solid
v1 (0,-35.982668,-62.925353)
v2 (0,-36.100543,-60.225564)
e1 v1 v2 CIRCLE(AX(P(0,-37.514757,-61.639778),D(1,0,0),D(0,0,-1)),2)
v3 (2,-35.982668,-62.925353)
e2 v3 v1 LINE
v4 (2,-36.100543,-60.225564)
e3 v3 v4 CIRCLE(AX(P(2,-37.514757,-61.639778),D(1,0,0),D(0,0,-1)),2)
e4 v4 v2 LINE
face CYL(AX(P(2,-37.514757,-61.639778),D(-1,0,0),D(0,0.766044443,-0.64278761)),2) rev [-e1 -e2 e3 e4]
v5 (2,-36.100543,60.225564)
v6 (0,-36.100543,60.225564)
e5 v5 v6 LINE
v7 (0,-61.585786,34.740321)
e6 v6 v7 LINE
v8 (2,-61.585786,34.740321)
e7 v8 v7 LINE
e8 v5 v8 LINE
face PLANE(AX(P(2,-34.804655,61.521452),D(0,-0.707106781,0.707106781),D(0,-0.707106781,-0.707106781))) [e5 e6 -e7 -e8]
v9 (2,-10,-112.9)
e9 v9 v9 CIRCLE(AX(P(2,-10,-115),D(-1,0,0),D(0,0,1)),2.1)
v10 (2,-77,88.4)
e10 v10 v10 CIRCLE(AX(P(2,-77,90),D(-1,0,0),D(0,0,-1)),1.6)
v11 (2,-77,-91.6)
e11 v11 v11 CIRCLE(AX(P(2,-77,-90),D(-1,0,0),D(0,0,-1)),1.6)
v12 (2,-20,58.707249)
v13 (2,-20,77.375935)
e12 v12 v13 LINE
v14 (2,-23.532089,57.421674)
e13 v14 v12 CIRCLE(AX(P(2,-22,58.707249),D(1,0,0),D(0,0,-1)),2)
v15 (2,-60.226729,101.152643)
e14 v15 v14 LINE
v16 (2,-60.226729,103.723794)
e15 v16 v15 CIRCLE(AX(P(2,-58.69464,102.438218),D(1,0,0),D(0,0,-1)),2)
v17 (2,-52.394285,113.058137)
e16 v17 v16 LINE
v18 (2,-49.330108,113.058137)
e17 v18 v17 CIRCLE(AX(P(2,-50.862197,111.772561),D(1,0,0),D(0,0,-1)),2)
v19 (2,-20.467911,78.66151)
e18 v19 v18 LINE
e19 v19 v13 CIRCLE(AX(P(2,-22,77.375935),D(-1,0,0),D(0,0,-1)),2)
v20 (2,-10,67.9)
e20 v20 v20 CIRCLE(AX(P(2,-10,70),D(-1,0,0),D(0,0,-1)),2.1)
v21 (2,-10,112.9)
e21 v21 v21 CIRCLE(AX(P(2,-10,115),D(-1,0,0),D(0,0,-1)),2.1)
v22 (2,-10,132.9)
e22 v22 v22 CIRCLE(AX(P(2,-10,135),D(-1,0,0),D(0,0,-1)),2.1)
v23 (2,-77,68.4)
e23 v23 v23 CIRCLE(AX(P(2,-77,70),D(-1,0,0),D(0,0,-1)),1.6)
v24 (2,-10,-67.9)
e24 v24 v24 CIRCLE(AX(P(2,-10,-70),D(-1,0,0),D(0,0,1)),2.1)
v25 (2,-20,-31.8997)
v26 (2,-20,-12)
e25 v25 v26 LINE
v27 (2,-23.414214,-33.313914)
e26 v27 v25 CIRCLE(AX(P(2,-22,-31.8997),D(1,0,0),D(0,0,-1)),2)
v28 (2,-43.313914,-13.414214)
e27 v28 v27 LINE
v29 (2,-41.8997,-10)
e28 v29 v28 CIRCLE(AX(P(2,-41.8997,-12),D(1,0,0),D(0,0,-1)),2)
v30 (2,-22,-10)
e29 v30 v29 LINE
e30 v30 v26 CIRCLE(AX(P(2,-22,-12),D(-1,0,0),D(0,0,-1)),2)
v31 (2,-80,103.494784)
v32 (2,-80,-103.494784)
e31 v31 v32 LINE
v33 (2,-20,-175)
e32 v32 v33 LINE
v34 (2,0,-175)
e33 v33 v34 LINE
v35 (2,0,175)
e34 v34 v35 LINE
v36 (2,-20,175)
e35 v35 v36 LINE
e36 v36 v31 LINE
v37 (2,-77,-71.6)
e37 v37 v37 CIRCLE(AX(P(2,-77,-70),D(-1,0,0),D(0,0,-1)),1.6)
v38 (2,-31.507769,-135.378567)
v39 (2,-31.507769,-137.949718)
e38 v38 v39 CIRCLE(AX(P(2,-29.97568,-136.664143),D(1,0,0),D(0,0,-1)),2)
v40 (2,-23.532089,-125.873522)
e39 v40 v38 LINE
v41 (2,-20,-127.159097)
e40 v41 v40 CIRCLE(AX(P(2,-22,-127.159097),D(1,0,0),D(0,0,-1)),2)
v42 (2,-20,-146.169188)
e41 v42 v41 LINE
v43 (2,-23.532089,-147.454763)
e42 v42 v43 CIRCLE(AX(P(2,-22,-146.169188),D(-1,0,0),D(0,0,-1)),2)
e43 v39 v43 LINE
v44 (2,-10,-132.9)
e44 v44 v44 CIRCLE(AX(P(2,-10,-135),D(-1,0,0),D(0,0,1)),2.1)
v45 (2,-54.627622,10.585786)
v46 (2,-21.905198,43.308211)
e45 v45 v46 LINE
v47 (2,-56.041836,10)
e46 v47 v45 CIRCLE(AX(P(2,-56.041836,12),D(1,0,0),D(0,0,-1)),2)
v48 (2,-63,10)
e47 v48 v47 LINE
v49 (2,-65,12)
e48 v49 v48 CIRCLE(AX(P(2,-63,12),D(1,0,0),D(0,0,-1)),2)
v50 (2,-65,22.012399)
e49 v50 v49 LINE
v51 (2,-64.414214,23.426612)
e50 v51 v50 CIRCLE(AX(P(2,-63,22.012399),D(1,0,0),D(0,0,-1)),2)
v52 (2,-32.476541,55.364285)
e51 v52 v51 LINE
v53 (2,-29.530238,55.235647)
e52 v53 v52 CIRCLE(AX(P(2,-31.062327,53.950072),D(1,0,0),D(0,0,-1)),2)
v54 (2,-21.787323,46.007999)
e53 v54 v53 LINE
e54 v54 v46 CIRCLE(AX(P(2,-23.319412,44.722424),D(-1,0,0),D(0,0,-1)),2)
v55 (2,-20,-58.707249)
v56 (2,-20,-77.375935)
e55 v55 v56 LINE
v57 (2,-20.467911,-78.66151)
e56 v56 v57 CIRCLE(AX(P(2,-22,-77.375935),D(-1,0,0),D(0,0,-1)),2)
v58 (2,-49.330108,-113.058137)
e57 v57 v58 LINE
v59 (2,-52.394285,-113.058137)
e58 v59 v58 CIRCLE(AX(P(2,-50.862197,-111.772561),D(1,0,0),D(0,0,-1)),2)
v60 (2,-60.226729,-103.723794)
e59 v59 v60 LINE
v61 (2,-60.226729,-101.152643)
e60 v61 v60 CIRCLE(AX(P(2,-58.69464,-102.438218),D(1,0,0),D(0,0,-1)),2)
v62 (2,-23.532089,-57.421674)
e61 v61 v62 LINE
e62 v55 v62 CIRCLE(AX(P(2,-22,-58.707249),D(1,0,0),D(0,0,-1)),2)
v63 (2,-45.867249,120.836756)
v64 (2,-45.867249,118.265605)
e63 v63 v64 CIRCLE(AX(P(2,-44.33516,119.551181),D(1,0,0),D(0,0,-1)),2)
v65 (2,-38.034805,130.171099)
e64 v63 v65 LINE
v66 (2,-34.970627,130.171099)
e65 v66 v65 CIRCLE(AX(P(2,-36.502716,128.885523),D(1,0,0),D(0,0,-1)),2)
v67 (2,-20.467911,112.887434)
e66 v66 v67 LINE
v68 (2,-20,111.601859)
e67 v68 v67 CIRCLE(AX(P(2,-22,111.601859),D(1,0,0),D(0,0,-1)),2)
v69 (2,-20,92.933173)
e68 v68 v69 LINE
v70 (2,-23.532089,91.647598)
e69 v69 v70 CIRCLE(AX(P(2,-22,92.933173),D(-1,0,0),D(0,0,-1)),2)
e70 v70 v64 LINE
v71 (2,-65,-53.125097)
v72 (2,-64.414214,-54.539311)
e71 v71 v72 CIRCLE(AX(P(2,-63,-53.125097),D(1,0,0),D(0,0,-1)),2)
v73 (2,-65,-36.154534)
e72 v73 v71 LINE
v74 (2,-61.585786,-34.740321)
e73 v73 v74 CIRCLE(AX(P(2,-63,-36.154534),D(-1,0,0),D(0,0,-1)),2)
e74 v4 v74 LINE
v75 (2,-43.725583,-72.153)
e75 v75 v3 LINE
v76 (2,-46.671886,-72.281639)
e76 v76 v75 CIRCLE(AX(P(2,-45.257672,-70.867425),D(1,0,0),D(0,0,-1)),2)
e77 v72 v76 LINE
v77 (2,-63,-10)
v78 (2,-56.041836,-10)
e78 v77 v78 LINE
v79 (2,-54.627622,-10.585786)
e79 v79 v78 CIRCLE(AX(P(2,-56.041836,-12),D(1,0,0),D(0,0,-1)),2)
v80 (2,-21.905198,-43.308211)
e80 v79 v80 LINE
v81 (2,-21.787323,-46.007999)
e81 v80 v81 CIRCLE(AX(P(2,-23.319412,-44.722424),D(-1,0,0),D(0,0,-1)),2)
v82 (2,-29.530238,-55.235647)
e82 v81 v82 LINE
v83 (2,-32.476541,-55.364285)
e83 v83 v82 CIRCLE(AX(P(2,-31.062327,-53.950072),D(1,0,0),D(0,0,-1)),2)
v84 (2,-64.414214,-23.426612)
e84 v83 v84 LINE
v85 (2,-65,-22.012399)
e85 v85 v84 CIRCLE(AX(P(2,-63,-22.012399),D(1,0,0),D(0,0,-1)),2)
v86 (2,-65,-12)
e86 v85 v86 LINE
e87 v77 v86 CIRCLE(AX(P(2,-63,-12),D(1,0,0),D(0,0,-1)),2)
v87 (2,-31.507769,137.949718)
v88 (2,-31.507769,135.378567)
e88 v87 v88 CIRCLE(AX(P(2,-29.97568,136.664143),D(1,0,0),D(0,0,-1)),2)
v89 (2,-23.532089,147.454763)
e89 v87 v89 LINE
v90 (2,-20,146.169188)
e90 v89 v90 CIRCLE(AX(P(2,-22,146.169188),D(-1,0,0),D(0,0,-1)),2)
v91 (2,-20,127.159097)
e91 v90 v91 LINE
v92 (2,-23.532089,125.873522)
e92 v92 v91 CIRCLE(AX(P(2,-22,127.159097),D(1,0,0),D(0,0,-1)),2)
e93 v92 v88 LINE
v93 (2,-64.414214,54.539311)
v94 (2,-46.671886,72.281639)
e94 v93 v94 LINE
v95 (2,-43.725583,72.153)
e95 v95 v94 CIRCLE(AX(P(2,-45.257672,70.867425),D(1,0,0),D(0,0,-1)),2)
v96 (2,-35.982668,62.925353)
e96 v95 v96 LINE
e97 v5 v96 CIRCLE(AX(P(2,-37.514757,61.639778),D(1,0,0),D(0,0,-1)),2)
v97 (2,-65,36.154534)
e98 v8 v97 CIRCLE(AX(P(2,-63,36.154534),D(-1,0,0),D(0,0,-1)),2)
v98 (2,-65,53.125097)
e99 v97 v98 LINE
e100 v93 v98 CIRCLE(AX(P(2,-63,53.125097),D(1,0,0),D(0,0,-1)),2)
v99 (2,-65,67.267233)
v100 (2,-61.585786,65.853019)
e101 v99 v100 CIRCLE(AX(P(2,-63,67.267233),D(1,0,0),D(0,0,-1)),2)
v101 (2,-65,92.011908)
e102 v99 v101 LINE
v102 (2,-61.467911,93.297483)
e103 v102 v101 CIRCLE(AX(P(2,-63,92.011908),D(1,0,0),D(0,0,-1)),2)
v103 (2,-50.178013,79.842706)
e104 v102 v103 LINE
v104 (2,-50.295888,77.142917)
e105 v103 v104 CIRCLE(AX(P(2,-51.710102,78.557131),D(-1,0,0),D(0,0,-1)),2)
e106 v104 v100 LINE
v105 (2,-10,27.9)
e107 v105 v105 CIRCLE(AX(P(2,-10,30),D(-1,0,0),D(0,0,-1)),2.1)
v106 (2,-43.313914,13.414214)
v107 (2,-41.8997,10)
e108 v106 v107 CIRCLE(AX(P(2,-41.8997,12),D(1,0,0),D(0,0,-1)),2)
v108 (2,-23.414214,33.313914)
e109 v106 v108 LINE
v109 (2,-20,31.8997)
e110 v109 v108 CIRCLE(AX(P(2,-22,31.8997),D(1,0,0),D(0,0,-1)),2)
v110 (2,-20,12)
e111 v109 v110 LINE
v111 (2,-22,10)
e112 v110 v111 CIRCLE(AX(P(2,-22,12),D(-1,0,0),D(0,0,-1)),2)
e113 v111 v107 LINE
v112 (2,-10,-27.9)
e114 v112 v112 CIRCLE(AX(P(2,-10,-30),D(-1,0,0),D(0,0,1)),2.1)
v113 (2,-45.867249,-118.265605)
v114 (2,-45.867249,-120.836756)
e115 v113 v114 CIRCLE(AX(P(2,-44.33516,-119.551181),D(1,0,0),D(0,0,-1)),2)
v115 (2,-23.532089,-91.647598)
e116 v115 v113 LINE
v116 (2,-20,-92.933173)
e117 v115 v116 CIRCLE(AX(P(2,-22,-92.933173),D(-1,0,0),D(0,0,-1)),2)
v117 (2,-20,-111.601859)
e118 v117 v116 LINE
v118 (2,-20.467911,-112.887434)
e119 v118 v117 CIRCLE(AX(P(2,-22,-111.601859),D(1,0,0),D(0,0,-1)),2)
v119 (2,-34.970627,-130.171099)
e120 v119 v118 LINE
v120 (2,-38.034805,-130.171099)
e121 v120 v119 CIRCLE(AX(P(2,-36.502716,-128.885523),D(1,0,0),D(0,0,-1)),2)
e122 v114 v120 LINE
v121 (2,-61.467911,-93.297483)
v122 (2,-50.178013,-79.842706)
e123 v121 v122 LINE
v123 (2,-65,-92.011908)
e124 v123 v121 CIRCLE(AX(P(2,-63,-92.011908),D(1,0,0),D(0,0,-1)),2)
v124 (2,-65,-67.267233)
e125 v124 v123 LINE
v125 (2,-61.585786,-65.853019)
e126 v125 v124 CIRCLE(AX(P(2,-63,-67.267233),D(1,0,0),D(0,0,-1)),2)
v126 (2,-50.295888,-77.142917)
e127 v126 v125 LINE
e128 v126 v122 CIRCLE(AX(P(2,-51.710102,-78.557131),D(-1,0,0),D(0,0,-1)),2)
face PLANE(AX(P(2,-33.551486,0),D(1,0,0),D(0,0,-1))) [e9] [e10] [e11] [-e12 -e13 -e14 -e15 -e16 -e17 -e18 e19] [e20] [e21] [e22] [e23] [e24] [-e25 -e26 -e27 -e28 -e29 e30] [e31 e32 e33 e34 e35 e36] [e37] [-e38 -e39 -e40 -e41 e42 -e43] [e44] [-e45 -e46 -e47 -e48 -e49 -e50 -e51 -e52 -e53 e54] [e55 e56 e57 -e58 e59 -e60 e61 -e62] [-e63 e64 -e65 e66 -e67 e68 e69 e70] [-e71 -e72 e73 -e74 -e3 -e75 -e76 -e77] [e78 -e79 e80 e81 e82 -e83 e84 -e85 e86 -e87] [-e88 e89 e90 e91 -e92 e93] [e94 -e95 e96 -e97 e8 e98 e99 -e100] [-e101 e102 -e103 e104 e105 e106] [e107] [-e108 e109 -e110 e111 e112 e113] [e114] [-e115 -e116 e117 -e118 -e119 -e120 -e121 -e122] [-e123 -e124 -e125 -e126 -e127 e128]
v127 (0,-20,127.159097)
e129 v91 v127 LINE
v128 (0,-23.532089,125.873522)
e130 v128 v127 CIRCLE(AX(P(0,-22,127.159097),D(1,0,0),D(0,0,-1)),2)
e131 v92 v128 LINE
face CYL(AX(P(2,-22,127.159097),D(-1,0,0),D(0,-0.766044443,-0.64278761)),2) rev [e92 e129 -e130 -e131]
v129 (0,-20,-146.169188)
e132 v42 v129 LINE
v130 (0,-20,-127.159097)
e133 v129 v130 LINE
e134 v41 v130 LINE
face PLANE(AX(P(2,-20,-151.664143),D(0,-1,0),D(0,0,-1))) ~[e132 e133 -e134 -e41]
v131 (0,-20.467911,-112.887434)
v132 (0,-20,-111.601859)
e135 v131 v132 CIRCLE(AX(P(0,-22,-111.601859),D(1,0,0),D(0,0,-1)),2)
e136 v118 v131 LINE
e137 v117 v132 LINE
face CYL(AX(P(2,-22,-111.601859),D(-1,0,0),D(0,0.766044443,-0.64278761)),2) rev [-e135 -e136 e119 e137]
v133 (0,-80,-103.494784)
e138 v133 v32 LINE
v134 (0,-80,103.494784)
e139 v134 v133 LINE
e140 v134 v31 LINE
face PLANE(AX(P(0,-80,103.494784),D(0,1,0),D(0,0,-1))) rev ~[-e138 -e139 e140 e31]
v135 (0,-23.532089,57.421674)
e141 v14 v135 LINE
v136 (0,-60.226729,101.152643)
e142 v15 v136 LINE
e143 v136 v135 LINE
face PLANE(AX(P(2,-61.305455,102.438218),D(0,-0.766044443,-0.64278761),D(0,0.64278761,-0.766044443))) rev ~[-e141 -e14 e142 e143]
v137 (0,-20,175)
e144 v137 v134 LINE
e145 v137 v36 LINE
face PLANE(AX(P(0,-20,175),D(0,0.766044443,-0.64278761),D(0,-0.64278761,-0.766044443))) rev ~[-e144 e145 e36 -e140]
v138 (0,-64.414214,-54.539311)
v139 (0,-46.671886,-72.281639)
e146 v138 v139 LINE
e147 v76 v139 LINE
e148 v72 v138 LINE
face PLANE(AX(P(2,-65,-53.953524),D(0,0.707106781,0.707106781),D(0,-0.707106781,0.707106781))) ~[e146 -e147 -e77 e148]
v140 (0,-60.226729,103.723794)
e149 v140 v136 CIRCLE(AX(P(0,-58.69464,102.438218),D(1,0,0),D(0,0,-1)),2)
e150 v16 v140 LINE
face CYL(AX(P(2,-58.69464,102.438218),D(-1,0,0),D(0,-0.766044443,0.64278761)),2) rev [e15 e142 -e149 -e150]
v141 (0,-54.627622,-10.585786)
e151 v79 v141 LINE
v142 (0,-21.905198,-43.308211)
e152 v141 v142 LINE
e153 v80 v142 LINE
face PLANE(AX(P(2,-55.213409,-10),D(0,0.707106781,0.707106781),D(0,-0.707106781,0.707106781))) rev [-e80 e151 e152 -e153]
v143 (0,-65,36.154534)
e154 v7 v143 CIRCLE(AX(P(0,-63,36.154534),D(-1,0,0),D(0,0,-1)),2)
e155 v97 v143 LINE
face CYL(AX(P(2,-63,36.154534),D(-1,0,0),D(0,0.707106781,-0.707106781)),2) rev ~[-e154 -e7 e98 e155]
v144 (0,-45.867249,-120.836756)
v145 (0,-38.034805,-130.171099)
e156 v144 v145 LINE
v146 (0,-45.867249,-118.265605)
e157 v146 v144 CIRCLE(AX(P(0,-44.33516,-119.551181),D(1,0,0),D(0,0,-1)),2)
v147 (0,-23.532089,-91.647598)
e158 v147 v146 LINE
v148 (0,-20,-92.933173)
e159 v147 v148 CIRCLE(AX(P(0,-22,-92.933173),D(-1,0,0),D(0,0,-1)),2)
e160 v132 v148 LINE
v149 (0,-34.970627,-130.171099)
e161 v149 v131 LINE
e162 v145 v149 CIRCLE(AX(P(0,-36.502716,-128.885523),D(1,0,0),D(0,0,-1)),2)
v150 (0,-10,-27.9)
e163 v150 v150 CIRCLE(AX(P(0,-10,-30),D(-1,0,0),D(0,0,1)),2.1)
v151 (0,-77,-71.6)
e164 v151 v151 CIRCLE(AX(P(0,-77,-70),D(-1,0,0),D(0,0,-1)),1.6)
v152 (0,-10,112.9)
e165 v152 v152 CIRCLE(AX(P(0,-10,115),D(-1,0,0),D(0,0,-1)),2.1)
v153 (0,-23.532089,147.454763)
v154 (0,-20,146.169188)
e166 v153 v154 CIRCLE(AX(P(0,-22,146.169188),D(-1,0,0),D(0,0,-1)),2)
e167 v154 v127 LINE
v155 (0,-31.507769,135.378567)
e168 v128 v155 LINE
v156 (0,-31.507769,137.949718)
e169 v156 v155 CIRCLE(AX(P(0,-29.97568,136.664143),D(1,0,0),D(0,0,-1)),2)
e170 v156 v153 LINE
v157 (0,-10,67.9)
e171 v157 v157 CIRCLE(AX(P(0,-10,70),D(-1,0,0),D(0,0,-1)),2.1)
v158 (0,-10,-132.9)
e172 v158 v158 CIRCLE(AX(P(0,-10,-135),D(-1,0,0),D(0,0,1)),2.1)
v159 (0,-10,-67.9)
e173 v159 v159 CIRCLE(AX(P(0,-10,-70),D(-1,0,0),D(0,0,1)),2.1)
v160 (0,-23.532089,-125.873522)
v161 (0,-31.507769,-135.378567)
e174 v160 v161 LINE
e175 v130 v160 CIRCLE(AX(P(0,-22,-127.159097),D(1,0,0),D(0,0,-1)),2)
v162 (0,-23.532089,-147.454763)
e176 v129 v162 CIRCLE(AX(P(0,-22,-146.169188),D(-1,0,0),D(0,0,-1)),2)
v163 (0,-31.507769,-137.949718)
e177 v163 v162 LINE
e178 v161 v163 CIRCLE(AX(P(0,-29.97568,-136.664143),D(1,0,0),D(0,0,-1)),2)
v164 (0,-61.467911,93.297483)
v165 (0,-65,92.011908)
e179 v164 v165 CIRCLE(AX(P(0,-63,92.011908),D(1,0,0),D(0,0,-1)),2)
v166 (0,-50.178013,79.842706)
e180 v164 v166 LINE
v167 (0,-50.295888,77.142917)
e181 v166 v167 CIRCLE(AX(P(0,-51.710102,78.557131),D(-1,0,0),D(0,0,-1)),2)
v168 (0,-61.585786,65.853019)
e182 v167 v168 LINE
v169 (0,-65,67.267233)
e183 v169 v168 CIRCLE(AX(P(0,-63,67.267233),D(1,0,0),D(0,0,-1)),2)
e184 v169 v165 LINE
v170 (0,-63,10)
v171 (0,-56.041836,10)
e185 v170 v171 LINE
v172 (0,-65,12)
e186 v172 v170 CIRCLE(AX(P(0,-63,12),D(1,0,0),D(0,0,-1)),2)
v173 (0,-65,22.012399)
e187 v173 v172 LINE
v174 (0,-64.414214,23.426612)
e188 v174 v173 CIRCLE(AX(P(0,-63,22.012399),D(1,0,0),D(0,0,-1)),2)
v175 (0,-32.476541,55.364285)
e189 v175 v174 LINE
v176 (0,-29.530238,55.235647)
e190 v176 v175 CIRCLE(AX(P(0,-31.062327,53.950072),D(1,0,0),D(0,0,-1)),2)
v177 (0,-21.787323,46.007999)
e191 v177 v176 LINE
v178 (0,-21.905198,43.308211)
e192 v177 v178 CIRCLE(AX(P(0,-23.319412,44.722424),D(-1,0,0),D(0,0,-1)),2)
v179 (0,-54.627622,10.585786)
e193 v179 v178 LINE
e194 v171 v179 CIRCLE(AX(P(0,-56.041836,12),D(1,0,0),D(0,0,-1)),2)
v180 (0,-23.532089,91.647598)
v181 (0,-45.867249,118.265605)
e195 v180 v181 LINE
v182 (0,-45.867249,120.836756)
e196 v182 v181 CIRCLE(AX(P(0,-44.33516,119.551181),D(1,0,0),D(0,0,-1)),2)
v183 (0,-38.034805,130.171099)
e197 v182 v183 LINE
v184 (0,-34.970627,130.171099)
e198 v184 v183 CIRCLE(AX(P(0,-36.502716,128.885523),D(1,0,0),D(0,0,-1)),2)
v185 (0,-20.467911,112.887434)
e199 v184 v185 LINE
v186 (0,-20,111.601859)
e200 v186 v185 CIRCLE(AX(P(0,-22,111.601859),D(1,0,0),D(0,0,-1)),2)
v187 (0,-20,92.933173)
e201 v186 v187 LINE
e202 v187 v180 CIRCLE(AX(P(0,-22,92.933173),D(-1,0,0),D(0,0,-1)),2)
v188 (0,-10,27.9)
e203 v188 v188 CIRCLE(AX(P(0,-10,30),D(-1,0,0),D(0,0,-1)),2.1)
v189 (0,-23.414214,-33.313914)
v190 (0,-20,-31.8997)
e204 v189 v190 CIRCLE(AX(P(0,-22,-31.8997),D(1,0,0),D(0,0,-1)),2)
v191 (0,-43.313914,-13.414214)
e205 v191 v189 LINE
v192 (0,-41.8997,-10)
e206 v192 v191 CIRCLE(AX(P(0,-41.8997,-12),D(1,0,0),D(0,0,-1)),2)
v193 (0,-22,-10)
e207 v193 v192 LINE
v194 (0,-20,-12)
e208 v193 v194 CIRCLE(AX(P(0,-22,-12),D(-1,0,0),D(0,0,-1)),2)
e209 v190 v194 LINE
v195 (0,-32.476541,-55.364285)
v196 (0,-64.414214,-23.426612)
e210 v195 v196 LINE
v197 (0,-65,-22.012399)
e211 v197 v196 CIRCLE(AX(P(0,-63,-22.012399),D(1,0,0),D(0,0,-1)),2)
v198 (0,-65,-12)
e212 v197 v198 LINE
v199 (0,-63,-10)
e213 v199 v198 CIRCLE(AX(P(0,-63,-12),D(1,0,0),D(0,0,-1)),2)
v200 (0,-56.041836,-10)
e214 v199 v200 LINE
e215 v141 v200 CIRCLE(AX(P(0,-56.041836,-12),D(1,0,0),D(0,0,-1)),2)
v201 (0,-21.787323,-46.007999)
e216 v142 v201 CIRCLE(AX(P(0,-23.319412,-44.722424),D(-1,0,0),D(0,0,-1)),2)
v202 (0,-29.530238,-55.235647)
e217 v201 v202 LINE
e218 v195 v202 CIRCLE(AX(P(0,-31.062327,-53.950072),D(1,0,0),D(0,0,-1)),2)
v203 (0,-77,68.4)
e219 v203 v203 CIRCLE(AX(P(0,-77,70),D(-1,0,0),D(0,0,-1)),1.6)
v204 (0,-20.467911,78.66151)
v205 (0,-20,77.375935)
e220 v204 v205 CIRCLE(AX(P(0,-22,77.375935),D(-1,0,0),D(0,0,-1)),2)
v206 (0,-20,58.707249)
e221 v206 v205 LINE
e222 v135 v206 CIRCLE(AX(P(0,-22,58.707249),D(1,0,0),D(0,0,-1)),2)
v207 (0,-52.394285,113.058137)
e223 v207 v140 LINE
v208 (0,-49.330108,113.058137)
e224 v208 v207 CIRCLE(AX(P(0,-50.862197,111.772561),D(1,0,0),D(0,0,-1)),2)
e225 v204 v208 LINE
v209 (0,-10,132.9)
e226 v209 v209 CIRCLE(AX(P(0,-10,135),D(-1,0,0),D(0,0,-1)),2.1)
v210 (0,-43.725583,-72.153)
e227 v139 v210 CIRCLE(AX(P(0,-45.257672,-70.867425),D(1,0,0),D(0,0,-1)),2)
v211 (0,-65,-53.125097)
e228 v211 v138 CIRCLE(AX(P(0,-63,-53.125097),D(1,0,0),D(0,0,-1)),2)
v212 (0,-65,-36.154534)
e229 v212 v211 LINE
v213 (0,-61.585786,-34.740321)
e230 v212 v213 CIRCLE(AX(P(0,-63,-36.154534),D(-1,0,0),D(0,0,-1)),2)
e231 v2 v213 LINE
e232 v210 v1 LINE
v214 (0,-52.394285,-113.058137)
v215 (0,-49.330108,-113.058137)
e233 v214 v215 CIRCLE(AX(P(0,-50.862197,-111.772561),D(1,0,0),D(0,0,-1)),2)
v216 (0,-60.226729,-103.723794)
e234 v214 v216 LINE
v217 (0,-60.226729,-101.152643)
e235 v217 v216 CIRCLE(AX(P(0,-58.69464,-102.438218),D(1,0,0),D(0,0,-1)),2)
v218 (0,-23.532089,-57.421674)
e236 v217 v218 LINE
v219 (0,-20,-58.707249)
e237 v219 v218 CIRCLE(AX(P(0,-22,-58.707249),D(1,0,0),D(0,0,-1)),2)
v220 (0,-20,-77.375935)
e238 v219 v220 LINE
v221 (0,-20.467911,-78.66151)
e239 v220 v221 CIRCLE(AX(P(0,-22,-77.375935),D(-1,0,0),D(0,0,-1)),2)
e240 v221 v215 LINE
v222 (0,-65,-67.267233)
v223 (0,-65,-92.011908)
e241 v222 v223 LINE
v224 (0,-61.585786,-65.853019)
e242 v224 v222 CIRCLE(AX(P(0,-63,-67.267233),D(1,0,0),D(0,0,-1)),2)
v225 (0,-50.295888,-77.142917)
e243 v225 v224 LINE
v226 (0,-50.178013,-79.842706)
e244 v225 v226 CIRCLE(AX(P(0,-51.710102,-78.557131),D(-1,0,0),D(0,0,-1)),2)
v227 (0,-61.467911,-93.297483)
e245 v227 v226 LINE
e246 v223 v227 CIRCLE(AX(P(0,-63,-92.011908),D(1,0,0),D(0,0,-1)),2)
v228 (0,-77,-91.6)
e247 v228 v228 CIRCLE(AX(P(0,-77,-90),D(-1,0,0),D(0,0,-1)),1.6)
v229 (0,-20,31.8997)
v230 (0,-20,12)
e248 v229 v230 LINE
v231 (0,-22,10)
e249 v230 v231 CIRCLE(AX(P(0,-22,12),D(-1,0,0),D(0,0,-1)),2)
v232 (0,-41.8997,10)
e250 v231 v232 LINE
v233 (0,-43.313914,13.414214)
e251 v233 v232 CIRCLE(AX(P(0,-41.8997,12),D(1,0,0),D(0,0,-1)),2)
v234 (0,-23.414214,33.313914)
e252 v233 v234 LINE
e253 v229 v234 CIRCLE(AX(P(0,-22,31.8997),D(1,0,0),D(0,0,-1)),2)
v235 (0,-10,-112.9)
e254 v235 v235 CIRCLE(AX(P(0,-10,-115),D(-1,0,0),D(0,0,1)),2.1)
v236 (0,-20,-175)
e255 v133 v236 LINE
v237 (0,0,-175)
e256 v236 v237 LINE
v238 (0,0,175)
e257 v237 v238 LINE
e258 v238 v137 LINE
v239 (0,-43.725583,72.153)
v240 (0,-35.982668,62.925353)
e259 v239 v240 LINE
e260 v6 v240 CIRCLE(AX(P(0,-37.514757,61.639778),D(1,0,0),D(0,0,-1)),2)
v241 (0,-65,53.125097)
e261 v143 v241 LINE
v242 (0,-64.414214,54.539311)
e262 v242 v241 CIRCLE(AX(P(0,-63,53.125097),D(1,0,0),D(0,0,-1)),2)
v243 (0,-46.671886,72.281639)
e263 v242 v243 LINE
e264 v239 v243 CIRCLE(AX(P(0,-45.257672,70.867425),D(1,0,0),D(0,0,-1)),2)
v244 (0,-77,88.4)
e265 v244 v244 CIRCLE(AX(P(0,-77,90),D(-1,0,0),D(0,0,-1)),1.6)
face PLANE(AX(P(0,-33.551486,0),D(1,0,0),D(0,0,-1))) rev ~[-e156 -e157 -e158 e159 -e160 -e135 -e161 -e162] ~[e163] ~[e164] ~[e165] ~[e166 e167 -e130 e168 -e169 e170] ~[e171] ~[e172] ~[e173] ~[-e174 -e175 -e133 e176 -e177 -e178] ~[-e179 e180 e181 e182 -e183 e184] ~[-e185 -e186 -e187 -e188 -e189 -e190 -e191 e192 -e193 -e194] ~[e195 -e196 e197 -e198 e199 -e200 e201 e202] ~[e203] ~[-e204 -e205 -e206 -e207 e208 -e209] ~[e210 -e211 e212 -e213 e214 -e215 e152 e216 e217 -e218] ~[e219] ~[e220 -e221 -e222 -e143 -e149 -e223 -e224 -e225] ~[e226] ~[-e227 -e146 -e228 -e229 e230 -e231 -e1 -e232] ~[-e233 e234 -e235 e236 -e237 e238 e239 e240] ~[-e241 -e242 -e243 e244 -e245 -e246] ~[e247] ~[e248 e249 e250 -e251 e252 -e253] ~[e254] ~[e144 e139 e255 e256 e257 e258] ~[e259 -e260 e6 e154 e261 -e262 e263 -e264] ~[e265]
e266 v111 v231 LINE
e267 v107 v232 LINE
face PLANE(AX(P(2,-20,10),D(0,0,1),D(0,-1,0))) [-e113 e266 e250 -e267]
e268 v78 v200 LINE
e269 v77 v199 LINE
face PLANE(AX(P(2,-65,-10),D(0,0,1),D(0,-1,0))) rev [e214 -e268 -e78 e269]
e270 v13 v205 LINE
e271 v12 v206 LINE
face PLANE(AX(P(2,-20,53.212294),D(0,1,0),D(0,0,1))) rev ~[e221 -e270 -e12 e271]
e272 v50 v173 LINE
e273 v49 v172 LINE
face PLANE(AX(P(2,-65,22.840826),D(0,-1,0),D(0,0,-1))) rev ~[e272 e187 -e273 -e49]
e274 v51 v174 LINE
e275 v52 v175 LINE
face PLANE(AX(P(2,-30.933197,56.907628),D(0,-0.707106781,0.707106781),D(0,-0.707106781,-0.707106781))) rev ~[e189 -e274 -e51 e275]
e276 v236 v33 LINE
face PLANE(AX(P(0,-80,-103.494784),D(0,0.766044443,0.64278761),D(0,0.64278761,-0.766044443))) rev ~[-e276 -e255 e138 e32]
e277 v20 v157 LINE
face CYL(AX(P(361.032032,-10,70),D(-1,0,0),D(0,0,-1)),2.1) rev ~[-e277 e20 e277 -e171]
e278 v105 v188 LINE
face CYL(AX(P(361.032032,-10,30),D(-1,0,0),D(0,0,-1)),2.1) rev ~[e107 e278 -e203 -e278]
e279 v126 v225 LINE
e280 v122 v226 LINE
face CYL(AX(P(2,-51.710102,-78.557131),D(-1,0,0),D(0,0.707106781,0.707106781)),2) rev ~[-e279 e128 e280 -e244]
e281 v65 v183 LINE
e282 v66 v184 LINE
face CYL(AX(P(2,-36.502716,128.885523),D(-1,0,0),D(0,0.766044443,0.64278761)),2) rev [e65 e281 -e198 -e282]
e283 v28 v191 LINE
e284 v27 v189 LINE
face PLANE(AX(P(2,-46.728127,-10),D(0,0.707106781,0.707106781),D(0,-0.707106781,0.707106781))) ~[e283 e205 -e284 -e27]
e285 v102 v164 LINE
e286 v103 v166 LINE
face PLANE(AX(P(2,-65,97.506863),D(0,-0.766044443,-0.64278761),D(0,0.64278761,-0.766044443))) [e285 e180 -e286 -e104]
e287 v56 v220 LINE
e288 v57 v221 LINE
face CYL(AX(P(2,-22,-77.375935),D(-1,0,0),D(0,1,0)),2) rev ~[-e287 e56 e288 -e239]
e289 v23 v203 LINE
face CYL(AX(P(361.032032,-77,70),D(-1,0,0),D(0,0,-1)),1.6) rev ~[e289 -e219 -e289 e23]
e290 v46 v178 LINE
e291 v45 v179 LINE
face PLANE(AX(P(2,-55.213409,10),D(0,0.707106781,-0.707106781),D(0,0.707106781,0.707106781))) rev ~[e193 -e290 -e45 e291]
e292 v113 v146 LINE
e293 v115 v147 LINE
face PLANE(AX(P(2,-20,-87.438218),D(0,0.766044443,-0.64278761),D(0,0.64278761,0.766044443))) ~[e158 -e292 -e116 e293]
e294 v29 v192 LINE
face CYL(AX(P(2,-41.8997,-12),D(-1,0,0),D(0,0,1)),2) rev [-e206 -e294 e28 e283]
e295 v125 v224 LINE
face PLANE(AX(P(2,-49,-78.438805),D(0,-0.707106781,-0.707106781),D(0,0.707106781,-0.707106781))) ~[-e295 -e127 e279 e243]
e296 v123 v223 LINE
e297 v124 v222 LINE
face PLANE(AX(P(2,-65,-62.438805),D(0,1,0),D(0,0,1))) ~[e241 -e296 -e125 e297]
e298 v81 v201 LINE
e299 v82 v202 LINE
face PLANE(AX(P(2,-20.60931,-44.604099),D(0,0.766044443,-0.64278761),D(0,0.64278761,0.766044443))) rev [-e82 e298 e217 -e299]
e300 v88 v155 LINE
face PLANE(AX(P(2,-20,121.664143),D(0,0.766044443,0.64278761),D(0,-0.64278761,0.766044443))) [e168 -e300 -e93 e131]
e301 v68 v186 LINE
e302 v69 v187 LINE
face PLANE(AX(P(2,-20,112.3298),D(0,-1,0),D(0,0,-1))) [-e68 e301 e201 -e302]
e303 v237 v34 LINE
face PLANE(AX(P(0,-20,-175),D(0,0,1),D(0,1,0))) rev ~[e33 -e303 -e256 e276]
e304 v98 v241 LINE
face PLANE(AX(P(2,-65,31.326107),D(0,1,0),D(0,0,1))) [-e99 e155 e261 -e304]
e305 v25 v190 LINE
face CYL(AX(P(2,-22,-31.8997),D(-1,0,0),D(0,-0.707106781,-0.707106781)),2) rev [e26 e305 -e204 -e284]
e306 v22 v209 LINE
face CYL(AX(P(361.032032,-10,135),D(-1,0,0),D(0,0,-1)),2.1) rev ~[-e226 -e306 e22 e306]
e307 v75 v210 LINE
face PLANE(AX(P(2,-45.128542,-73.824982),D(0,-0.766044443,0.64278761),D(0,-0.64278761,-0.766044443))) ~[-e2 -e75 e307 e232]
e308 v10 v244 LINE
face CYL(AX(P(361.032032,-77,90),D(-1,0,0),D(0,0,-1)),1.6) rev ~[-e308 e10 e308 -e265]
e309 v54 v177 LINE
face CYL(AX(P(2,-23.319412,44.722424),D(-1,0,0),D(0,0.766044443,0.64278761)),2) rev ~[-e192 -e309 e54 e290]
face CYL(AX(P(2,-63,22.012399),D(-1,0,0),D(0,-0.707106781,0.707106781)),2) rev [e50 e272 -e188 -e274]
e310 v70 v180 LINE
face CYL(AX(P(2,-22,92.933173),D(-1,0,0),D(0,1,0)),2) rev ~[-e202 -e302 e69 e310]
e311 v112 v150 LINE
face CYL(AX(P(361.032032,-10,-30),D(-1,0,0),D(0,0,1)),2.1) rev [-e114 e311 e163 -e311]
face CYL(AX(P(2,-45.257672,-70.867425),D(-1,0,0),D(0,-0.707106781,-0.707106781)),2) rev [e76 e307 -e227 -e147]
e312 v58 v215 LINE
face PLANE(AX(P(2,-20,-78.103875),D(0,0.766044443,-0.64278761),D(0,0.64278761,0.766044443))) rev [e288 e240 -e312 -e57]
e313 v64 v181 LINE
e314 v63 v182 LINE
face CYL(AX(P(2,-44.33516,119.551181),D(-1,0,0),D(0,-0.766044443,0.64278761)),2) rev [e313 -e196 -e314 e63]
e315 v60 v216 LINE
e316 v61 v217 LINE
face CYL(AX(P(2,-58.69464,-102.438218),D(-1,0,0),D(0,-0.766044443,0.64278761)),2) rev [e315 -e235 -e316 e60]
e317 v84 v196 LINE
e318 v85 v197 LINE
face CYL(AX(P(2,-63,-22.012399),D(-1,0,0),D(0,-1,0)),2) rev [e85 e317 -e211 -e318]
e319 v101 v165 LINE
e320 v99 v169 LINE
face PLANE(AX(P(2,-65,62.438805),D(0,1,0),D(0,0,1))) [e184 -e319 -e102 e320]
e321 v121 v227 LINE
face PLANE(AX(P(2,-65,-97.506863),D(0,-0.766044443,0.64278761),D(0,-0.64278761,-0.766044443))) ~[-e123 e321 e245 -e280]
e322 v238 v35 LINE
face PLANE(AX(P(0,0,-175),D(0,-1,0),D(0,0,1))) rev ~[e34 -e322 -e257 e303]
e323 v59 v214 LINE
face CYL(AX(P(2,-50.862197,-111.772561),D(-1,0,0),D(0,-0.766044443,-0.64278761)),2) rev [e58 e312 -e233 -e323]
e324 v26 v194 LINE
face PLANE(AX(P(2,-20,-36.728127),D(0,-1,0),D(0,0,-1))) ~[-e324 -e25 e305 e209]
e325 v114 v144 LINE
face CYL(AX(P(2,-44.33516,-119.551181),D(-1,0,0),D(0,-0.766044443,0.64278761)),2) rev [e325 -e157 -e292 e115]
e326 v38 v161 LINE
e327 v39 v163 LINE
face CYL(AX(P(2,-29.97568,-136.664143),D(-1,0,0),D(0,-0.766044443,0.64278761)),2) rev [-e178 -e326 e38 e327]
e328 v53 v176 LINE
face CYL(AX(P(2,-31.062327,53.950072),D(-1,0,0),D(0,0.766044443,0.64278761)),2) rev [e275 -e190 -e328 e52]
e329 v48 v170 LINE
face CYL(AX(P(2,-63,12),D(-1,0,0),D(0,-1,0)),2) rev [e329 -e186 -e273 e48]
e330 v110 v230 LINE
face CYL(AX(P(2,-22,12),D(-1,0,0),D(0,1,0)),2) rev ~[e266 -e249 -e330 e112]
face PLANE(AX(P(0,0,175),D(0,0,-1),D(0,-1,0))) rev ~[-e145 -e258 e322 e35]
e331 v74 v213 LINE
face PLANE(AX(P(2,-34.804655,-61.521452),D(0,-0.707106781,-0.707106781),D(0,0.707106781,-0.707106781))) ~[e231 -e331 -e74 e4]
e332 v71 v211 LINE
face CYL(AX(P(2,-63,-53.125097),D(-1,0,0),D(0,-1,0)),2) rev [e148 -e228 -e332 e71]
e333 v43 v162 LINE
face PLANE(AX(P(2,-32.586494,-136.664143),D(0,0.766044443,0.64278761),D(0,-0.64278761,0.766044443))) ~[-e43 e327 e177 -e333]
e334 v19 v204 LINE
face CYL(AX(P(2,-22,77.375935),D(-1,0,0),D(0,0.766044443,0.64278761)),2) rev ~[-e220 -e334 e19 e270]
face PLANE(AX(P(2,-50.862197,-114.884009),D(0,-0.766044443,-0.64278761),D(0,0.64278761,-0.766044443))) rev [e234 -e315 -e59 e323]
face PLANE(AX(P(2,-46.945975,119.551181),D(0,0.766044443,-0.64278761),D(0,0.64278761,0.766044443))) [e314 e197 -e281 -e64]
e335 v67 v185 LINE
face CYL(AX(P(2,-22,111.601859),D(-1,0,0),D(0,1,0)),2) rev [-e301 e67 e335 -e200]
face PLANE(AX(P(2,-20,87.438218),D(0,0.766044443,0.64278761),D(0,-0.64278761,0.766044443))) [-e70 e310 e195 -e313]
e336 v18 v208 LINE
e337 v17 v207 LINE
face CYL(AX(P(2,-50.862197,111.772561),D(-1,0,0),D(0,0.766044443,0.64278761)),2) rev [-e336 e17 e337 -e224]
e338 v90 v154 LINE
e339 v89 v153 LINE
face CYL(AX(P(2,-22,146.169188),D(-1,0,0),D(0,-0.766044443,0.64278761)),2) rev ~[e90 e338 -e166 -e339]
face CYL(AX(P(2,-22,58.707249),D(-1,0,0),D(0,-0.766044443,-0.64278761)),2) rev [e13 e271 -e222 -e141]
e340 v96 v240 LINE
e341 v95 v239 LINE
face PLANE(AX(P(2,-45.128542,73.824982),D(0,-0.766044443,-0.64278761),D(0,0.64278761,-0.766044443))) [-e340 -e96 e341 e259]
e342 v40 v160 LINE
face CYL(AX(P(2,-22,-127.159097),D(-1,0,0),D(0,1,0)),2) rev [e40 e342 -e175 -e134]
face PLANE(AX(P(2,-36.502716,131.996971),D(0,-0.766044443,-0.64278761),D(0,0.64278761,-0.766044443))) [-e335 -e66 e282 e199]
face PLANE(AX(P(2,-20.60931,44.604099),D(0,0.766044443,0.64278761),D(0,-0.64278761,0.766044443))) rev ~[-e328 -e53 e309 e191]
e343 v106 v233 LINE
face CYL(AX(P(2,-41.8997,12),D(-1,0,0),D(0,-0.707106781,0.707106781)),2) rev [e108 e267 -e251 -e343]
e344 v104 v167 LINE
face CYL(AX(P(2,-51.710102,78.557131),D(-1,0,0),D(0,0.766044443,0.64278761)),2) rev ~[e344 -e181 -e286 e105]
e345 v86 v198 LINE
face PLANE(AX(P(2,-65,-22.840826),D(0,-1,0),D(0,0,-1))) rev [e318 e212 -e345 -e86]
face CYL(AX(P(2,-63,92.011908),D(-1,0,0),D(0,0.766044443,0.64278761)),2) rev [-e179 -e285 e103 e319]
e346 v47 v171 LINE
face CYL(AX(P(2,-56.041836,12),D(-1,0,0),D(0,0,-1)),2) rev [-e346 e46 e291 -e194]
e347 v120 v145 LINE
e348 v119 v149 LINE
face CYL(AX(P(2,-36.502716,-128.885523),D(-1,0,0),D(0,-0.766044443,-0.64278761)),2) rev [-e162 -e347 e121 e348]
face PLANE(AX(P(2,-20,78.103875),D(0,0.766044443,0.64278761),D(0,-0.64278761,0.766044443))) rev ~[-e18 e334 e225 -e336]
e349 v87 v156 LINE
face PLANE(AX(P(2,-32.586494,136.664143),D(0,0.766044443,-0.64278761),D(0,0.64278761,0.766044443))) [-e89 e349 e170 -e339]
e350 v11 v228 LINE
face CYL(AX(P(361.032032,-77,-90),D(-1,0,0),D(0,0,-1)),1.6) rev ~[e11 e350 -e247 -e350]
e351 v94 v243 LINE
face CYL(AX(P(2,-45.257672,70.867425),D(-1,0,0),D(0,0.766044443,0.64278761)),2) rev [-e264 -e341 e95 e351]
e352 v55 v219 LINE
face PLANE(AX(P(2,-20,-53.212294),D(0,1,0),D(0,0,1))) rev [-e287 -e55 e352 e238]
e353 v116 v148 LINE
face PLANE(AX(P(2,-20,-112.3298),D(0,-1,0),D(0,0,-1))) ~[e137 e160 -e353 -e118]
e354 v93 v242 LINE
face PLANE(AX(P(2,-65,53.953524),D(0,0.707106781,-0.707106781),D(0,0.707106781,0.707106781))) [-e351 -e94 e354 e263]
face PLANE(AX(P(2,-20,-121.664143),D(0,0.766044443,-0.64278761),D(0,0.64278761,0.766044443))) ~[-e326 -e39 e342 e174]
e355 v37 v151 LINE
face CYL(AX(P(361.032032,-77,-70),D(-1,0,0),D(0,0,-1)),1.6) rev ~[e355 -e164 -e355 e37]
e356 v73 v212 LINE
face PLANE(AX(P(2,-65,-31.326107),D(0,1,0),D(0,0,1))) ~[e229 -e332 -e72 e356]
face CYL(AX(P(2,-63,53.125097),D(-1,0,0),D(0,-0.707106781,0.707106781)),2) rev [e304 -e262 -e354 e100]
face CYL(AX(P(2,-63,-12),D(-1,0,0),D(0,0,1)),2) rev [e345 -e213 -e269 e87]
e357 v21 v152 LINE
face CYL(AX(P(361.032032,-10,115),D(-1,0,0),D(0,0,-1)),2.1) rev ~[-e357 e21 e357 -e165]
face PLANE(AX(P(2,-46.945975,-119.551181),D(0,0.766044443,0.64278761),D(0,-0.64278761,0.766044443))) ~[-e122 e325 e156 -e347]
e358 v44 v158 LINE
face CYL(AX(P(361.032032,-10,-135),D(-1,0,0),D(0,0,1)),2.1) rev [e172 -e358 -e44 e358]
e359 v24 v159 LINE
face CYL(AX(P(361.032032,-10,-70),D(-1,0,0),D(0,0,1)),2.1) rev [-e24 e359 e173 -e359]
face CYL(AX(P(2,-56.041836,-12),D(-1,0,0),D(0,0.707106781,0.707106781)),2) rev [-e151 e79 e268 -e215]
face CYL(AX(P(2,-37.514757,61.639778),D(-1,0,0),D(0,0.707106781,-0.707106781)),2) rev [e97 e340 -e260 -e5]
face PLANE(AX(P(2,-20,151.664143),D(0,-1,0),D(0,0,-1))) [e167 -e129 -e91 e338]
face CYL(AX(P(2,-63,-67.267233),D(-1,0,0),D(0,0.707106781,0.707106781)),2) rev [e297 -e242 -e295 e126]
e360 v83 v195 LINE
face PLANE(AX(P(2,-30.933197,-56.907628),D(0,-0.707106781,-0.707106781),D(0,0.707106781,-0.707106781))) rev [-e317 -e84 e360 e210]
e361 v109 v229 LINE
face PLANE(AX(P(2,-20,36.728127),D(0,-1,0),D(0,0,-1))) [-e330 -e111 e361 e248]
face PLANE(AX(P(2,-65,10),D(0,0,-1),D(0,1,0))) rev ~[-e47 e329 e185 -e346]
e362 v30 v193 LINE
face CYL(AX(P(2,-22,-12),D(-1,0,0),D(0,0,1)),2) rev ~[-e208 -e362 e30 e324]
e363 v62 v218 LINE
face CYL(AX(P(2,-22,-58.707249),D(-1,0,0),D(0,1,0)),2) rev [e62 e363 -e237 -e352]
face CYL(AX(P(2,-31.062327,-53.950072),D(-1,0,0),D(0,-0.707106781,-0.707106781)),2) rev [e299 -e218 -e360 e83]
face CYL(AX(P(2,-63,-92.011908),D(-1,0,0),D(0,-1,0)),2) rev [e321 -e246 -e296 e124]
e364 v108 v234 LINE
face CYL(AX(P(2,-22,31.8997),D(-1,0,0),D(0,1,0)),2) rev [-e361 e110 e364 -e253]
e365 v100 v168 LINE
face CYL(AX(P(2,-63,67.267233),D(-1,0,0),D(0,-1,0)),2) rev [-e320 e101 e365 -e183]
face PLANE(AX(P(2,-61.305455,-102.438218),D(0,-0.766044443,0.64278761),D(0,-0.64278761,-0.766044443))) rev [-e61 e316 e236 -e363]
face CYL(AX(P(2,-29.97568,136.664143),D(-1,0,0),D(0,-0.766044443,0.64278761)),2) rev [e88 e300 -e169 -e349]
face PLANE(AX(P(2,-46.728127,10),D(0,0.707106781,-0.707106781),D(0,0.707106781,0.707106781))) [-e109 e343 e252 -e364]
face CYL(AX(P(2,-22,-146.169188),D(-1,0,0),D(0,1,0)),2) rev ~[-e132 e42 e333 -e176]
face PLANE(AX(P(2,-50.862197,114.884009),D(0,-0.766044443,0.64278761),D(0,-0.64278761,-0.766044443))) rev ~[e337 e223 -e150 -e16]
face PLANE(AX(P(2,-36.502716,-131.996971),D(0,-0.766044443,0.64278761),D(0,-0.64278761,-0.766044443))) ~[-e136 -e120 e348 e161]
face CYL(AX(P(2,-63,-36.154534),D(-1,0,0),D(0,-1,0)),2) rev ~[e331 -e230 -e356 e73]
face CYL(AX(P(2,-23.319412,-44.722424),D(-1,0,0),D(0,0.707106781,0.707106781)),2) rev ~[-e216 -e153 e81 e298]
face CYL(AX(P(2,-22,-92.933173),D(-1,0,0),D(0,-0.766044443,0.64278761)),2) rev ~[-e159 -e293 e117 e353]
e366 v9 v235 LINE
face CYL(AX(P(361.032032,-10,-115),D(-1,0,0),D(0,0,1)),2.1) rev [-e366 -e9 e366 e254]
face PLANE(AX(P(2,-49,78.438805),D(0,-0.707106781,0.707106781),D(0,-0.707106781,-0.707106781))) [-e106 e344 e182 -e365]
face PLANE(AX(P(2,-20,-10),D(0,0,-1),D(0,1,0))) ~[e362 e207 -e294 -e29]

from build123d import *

# Parameters (mm, degrees)
EXTRUDE_1_DEPTH         = 2
HOLE_WIZARD_3_2_3_2_1_D = 3.2
HOLE_WIZARD_4_2_4_2_1_D = 4.2
CUT_EXTRUDE_1_DEPTH     = 193.429207762
FILLET_1_R              = 2
FILLET_1_OF_MIRROR_2_R  = 2


with BuildPart() as part:
    # 草图1 → 凸台-拉伸1 (new body)
    with BuildSketch(Plane(origin=(0, 0, 0), x_dir=(0, 0, -1), z_dir=(1, 0, 0))):
        Polygon((-103.494784444, -80), (103.494784444, -80), (175, -20), (175, 0), (-175, 0), (-175, -20), align=None)
    extrude(amount=EXTRUDE_1_DEPTH)

    # Ø3.2 (3.2) 直径孔1 (through all)
    with Locations(Plane(origin=(2, -77, 90), x_dir=(0, 0, 1), z_dir=(1, 0, 0))):
        with Locations((0, 0), (-20, 0), (-180, 0), (-160, 0)):
            Hole(HOLE_WIZARD_3_2_3_2_1_D / 2)

    # Ø4.2 (4.2) 直径孔1 (through all)
    with Locations(Plane(origin=(2, -10, 135), x_dir=(0, 0, 1), z_dir=(1, 0, 0))):
        with Locations((0, 0), (-20, 0), (-65, 0), (-105, 0)):
            hole_wizard_4_2_4_2_1 = Hole(HOLE_WIZARD_4_2_4_2_1_D / 2)

    # 镜向1: Ø4.2 (4.2) 直径孔1 across plane
    add(hole_wizard_4_2_4_2_1.mirror(Plane.XY), mode=Mode.SUBTRACT)

    # 草图6 → 切除-拉伸1 (cut, through all)
    with BuildSketch(Plane(origin=(2, 0, 0), x_dir=(0, 0, -1), z_dir=(1, 0, 0))):
        Polygon((-87.438218406, -20), (-119.551180502, -46.94597465), (-131.996971117, -36.502716336), (-112.329799636, -20), align=None)
        Polygon((-78.103875445, -20), (-114.884009021, -50.862196518), (-102.438218406, -61.305454833), (-53.212294215, -20), align=None)
        Polygon((-44.604098668, -20.609310027), (-56.907628403, -30.93319729), (-22.840825693, -65), (-10, -65), (-10, -55.213408695), align=None)
        Polygon((-151.664142597, -20), (-121.664142597, -20), (-136.664142597, -32.586494468), align=None)
        Polygon((-10, -20), (-10, -46.728127321), (-36.728127321, -20), align=None)
        Polygon((-31.326107067, -65), (-53.953524065, -65), (-73.824981789, -45.128542276), (-61.521452054, -34.804655014), align=None)
        Polygon((-78.438805439, -49), (-62.438805439, -65), (-97.506862921, -65), align=None)
    cut_extrude_1 = extrude(amount=-CUT_EXTRUDE_1_DEPTH, mode=Mode.SUBTRACT)

    # 圆角1
    fillet_1_edges = [part.edges().sort_by_distance(p)[0] for p in [
        (1, -20, 53.212294215),
        (1, -61.305454833, 102.438218406),
        (1, -50.862196518, 114.884009021),
        (1, -20, 78.103875445),
        (1, -36.502716336, 131.996971117),
        (1, -20, 112.329799636),
        (1, -20, 87.438218406),
        (1, -46.94597465, 119.551180502),
        (1, -20, 36.728127321),
        (1, -20, 10),
        (1, -46.728127321, 10),
        (1, -55.213408695, 10),
        (1, -65, 10),
        (1, -65, 22.840825693),
        (1, -30.93319729, 56.907628403),
        (1, -20.609310027, 44.604098668),
        (1, -65, 97.506862921),
        (1, -49, 78.438805439),
        (1, -65, 62.438805439),
        (1, -34.804655014, 61.521452054),
        (1, -65, 31.326107067),
        (1, -65, 53.953524065),
        (1, -45.128542276, 73.824981789),
        (1, -32.586494468, 136.664142597),
        (1, -20, 151.664142597),
        (1, -20, 121.664142597),
    ]]
    fillet(fillet_1_edges, radius=FILLET_1_R)

    # 镜向2: 切除-拉伸1 across plane
    add(cut_extrude_1.mirror(Plane.XY), mode=Mode.SUBTRACT)

    # 圆角1 of 镜向2
    fillet_1_of_mirror_2_edges = [part.edges().sort_by_distance(p)[0] for p in [
        (1, -20, -53.212294215),
        (1, -61.305454833, -102.438218406),
        (1, -50.862196518, -114.884009021),
        (1, -20, -78.103875445),
        (1, -36.502716336, -131.996971117),
        (1, -20, -112.329799636),
        (1, -20, -87.438218406),
        (1, -46.94597465, -119.551180502),
        (1, -20, -36.728127321),
        (1, -20, -10),
        (1, -46.728127321, -10),
        (1, -55.213408695, -10),
        (1, -65, -10),
        (1, -65, -22.840825693),
        (1, -30.93319729, -56.907628403),
        (1, -20.609310027, -44.604098668),
        (1, -65, -97.506862921),
        (1, -49, -78.438805439),
        (1, -65, -62.438805439),
        (1, -34.804655014, -61.521452054),
        (1, -65, -31.326107067),
        (1, -65, -53.953524065),
        (1, -45.128542276, -73.824981789),
        (1, -32.586494468, -136.664142597),
        (1, -20, -151.664142597),
        (1, -20, -121.664142597),
    ]]
    fillet(fillet_1_of_mirror_2_edges, radius=FILLET_1_OF_MIRROR_2_R)


solid = part.part
